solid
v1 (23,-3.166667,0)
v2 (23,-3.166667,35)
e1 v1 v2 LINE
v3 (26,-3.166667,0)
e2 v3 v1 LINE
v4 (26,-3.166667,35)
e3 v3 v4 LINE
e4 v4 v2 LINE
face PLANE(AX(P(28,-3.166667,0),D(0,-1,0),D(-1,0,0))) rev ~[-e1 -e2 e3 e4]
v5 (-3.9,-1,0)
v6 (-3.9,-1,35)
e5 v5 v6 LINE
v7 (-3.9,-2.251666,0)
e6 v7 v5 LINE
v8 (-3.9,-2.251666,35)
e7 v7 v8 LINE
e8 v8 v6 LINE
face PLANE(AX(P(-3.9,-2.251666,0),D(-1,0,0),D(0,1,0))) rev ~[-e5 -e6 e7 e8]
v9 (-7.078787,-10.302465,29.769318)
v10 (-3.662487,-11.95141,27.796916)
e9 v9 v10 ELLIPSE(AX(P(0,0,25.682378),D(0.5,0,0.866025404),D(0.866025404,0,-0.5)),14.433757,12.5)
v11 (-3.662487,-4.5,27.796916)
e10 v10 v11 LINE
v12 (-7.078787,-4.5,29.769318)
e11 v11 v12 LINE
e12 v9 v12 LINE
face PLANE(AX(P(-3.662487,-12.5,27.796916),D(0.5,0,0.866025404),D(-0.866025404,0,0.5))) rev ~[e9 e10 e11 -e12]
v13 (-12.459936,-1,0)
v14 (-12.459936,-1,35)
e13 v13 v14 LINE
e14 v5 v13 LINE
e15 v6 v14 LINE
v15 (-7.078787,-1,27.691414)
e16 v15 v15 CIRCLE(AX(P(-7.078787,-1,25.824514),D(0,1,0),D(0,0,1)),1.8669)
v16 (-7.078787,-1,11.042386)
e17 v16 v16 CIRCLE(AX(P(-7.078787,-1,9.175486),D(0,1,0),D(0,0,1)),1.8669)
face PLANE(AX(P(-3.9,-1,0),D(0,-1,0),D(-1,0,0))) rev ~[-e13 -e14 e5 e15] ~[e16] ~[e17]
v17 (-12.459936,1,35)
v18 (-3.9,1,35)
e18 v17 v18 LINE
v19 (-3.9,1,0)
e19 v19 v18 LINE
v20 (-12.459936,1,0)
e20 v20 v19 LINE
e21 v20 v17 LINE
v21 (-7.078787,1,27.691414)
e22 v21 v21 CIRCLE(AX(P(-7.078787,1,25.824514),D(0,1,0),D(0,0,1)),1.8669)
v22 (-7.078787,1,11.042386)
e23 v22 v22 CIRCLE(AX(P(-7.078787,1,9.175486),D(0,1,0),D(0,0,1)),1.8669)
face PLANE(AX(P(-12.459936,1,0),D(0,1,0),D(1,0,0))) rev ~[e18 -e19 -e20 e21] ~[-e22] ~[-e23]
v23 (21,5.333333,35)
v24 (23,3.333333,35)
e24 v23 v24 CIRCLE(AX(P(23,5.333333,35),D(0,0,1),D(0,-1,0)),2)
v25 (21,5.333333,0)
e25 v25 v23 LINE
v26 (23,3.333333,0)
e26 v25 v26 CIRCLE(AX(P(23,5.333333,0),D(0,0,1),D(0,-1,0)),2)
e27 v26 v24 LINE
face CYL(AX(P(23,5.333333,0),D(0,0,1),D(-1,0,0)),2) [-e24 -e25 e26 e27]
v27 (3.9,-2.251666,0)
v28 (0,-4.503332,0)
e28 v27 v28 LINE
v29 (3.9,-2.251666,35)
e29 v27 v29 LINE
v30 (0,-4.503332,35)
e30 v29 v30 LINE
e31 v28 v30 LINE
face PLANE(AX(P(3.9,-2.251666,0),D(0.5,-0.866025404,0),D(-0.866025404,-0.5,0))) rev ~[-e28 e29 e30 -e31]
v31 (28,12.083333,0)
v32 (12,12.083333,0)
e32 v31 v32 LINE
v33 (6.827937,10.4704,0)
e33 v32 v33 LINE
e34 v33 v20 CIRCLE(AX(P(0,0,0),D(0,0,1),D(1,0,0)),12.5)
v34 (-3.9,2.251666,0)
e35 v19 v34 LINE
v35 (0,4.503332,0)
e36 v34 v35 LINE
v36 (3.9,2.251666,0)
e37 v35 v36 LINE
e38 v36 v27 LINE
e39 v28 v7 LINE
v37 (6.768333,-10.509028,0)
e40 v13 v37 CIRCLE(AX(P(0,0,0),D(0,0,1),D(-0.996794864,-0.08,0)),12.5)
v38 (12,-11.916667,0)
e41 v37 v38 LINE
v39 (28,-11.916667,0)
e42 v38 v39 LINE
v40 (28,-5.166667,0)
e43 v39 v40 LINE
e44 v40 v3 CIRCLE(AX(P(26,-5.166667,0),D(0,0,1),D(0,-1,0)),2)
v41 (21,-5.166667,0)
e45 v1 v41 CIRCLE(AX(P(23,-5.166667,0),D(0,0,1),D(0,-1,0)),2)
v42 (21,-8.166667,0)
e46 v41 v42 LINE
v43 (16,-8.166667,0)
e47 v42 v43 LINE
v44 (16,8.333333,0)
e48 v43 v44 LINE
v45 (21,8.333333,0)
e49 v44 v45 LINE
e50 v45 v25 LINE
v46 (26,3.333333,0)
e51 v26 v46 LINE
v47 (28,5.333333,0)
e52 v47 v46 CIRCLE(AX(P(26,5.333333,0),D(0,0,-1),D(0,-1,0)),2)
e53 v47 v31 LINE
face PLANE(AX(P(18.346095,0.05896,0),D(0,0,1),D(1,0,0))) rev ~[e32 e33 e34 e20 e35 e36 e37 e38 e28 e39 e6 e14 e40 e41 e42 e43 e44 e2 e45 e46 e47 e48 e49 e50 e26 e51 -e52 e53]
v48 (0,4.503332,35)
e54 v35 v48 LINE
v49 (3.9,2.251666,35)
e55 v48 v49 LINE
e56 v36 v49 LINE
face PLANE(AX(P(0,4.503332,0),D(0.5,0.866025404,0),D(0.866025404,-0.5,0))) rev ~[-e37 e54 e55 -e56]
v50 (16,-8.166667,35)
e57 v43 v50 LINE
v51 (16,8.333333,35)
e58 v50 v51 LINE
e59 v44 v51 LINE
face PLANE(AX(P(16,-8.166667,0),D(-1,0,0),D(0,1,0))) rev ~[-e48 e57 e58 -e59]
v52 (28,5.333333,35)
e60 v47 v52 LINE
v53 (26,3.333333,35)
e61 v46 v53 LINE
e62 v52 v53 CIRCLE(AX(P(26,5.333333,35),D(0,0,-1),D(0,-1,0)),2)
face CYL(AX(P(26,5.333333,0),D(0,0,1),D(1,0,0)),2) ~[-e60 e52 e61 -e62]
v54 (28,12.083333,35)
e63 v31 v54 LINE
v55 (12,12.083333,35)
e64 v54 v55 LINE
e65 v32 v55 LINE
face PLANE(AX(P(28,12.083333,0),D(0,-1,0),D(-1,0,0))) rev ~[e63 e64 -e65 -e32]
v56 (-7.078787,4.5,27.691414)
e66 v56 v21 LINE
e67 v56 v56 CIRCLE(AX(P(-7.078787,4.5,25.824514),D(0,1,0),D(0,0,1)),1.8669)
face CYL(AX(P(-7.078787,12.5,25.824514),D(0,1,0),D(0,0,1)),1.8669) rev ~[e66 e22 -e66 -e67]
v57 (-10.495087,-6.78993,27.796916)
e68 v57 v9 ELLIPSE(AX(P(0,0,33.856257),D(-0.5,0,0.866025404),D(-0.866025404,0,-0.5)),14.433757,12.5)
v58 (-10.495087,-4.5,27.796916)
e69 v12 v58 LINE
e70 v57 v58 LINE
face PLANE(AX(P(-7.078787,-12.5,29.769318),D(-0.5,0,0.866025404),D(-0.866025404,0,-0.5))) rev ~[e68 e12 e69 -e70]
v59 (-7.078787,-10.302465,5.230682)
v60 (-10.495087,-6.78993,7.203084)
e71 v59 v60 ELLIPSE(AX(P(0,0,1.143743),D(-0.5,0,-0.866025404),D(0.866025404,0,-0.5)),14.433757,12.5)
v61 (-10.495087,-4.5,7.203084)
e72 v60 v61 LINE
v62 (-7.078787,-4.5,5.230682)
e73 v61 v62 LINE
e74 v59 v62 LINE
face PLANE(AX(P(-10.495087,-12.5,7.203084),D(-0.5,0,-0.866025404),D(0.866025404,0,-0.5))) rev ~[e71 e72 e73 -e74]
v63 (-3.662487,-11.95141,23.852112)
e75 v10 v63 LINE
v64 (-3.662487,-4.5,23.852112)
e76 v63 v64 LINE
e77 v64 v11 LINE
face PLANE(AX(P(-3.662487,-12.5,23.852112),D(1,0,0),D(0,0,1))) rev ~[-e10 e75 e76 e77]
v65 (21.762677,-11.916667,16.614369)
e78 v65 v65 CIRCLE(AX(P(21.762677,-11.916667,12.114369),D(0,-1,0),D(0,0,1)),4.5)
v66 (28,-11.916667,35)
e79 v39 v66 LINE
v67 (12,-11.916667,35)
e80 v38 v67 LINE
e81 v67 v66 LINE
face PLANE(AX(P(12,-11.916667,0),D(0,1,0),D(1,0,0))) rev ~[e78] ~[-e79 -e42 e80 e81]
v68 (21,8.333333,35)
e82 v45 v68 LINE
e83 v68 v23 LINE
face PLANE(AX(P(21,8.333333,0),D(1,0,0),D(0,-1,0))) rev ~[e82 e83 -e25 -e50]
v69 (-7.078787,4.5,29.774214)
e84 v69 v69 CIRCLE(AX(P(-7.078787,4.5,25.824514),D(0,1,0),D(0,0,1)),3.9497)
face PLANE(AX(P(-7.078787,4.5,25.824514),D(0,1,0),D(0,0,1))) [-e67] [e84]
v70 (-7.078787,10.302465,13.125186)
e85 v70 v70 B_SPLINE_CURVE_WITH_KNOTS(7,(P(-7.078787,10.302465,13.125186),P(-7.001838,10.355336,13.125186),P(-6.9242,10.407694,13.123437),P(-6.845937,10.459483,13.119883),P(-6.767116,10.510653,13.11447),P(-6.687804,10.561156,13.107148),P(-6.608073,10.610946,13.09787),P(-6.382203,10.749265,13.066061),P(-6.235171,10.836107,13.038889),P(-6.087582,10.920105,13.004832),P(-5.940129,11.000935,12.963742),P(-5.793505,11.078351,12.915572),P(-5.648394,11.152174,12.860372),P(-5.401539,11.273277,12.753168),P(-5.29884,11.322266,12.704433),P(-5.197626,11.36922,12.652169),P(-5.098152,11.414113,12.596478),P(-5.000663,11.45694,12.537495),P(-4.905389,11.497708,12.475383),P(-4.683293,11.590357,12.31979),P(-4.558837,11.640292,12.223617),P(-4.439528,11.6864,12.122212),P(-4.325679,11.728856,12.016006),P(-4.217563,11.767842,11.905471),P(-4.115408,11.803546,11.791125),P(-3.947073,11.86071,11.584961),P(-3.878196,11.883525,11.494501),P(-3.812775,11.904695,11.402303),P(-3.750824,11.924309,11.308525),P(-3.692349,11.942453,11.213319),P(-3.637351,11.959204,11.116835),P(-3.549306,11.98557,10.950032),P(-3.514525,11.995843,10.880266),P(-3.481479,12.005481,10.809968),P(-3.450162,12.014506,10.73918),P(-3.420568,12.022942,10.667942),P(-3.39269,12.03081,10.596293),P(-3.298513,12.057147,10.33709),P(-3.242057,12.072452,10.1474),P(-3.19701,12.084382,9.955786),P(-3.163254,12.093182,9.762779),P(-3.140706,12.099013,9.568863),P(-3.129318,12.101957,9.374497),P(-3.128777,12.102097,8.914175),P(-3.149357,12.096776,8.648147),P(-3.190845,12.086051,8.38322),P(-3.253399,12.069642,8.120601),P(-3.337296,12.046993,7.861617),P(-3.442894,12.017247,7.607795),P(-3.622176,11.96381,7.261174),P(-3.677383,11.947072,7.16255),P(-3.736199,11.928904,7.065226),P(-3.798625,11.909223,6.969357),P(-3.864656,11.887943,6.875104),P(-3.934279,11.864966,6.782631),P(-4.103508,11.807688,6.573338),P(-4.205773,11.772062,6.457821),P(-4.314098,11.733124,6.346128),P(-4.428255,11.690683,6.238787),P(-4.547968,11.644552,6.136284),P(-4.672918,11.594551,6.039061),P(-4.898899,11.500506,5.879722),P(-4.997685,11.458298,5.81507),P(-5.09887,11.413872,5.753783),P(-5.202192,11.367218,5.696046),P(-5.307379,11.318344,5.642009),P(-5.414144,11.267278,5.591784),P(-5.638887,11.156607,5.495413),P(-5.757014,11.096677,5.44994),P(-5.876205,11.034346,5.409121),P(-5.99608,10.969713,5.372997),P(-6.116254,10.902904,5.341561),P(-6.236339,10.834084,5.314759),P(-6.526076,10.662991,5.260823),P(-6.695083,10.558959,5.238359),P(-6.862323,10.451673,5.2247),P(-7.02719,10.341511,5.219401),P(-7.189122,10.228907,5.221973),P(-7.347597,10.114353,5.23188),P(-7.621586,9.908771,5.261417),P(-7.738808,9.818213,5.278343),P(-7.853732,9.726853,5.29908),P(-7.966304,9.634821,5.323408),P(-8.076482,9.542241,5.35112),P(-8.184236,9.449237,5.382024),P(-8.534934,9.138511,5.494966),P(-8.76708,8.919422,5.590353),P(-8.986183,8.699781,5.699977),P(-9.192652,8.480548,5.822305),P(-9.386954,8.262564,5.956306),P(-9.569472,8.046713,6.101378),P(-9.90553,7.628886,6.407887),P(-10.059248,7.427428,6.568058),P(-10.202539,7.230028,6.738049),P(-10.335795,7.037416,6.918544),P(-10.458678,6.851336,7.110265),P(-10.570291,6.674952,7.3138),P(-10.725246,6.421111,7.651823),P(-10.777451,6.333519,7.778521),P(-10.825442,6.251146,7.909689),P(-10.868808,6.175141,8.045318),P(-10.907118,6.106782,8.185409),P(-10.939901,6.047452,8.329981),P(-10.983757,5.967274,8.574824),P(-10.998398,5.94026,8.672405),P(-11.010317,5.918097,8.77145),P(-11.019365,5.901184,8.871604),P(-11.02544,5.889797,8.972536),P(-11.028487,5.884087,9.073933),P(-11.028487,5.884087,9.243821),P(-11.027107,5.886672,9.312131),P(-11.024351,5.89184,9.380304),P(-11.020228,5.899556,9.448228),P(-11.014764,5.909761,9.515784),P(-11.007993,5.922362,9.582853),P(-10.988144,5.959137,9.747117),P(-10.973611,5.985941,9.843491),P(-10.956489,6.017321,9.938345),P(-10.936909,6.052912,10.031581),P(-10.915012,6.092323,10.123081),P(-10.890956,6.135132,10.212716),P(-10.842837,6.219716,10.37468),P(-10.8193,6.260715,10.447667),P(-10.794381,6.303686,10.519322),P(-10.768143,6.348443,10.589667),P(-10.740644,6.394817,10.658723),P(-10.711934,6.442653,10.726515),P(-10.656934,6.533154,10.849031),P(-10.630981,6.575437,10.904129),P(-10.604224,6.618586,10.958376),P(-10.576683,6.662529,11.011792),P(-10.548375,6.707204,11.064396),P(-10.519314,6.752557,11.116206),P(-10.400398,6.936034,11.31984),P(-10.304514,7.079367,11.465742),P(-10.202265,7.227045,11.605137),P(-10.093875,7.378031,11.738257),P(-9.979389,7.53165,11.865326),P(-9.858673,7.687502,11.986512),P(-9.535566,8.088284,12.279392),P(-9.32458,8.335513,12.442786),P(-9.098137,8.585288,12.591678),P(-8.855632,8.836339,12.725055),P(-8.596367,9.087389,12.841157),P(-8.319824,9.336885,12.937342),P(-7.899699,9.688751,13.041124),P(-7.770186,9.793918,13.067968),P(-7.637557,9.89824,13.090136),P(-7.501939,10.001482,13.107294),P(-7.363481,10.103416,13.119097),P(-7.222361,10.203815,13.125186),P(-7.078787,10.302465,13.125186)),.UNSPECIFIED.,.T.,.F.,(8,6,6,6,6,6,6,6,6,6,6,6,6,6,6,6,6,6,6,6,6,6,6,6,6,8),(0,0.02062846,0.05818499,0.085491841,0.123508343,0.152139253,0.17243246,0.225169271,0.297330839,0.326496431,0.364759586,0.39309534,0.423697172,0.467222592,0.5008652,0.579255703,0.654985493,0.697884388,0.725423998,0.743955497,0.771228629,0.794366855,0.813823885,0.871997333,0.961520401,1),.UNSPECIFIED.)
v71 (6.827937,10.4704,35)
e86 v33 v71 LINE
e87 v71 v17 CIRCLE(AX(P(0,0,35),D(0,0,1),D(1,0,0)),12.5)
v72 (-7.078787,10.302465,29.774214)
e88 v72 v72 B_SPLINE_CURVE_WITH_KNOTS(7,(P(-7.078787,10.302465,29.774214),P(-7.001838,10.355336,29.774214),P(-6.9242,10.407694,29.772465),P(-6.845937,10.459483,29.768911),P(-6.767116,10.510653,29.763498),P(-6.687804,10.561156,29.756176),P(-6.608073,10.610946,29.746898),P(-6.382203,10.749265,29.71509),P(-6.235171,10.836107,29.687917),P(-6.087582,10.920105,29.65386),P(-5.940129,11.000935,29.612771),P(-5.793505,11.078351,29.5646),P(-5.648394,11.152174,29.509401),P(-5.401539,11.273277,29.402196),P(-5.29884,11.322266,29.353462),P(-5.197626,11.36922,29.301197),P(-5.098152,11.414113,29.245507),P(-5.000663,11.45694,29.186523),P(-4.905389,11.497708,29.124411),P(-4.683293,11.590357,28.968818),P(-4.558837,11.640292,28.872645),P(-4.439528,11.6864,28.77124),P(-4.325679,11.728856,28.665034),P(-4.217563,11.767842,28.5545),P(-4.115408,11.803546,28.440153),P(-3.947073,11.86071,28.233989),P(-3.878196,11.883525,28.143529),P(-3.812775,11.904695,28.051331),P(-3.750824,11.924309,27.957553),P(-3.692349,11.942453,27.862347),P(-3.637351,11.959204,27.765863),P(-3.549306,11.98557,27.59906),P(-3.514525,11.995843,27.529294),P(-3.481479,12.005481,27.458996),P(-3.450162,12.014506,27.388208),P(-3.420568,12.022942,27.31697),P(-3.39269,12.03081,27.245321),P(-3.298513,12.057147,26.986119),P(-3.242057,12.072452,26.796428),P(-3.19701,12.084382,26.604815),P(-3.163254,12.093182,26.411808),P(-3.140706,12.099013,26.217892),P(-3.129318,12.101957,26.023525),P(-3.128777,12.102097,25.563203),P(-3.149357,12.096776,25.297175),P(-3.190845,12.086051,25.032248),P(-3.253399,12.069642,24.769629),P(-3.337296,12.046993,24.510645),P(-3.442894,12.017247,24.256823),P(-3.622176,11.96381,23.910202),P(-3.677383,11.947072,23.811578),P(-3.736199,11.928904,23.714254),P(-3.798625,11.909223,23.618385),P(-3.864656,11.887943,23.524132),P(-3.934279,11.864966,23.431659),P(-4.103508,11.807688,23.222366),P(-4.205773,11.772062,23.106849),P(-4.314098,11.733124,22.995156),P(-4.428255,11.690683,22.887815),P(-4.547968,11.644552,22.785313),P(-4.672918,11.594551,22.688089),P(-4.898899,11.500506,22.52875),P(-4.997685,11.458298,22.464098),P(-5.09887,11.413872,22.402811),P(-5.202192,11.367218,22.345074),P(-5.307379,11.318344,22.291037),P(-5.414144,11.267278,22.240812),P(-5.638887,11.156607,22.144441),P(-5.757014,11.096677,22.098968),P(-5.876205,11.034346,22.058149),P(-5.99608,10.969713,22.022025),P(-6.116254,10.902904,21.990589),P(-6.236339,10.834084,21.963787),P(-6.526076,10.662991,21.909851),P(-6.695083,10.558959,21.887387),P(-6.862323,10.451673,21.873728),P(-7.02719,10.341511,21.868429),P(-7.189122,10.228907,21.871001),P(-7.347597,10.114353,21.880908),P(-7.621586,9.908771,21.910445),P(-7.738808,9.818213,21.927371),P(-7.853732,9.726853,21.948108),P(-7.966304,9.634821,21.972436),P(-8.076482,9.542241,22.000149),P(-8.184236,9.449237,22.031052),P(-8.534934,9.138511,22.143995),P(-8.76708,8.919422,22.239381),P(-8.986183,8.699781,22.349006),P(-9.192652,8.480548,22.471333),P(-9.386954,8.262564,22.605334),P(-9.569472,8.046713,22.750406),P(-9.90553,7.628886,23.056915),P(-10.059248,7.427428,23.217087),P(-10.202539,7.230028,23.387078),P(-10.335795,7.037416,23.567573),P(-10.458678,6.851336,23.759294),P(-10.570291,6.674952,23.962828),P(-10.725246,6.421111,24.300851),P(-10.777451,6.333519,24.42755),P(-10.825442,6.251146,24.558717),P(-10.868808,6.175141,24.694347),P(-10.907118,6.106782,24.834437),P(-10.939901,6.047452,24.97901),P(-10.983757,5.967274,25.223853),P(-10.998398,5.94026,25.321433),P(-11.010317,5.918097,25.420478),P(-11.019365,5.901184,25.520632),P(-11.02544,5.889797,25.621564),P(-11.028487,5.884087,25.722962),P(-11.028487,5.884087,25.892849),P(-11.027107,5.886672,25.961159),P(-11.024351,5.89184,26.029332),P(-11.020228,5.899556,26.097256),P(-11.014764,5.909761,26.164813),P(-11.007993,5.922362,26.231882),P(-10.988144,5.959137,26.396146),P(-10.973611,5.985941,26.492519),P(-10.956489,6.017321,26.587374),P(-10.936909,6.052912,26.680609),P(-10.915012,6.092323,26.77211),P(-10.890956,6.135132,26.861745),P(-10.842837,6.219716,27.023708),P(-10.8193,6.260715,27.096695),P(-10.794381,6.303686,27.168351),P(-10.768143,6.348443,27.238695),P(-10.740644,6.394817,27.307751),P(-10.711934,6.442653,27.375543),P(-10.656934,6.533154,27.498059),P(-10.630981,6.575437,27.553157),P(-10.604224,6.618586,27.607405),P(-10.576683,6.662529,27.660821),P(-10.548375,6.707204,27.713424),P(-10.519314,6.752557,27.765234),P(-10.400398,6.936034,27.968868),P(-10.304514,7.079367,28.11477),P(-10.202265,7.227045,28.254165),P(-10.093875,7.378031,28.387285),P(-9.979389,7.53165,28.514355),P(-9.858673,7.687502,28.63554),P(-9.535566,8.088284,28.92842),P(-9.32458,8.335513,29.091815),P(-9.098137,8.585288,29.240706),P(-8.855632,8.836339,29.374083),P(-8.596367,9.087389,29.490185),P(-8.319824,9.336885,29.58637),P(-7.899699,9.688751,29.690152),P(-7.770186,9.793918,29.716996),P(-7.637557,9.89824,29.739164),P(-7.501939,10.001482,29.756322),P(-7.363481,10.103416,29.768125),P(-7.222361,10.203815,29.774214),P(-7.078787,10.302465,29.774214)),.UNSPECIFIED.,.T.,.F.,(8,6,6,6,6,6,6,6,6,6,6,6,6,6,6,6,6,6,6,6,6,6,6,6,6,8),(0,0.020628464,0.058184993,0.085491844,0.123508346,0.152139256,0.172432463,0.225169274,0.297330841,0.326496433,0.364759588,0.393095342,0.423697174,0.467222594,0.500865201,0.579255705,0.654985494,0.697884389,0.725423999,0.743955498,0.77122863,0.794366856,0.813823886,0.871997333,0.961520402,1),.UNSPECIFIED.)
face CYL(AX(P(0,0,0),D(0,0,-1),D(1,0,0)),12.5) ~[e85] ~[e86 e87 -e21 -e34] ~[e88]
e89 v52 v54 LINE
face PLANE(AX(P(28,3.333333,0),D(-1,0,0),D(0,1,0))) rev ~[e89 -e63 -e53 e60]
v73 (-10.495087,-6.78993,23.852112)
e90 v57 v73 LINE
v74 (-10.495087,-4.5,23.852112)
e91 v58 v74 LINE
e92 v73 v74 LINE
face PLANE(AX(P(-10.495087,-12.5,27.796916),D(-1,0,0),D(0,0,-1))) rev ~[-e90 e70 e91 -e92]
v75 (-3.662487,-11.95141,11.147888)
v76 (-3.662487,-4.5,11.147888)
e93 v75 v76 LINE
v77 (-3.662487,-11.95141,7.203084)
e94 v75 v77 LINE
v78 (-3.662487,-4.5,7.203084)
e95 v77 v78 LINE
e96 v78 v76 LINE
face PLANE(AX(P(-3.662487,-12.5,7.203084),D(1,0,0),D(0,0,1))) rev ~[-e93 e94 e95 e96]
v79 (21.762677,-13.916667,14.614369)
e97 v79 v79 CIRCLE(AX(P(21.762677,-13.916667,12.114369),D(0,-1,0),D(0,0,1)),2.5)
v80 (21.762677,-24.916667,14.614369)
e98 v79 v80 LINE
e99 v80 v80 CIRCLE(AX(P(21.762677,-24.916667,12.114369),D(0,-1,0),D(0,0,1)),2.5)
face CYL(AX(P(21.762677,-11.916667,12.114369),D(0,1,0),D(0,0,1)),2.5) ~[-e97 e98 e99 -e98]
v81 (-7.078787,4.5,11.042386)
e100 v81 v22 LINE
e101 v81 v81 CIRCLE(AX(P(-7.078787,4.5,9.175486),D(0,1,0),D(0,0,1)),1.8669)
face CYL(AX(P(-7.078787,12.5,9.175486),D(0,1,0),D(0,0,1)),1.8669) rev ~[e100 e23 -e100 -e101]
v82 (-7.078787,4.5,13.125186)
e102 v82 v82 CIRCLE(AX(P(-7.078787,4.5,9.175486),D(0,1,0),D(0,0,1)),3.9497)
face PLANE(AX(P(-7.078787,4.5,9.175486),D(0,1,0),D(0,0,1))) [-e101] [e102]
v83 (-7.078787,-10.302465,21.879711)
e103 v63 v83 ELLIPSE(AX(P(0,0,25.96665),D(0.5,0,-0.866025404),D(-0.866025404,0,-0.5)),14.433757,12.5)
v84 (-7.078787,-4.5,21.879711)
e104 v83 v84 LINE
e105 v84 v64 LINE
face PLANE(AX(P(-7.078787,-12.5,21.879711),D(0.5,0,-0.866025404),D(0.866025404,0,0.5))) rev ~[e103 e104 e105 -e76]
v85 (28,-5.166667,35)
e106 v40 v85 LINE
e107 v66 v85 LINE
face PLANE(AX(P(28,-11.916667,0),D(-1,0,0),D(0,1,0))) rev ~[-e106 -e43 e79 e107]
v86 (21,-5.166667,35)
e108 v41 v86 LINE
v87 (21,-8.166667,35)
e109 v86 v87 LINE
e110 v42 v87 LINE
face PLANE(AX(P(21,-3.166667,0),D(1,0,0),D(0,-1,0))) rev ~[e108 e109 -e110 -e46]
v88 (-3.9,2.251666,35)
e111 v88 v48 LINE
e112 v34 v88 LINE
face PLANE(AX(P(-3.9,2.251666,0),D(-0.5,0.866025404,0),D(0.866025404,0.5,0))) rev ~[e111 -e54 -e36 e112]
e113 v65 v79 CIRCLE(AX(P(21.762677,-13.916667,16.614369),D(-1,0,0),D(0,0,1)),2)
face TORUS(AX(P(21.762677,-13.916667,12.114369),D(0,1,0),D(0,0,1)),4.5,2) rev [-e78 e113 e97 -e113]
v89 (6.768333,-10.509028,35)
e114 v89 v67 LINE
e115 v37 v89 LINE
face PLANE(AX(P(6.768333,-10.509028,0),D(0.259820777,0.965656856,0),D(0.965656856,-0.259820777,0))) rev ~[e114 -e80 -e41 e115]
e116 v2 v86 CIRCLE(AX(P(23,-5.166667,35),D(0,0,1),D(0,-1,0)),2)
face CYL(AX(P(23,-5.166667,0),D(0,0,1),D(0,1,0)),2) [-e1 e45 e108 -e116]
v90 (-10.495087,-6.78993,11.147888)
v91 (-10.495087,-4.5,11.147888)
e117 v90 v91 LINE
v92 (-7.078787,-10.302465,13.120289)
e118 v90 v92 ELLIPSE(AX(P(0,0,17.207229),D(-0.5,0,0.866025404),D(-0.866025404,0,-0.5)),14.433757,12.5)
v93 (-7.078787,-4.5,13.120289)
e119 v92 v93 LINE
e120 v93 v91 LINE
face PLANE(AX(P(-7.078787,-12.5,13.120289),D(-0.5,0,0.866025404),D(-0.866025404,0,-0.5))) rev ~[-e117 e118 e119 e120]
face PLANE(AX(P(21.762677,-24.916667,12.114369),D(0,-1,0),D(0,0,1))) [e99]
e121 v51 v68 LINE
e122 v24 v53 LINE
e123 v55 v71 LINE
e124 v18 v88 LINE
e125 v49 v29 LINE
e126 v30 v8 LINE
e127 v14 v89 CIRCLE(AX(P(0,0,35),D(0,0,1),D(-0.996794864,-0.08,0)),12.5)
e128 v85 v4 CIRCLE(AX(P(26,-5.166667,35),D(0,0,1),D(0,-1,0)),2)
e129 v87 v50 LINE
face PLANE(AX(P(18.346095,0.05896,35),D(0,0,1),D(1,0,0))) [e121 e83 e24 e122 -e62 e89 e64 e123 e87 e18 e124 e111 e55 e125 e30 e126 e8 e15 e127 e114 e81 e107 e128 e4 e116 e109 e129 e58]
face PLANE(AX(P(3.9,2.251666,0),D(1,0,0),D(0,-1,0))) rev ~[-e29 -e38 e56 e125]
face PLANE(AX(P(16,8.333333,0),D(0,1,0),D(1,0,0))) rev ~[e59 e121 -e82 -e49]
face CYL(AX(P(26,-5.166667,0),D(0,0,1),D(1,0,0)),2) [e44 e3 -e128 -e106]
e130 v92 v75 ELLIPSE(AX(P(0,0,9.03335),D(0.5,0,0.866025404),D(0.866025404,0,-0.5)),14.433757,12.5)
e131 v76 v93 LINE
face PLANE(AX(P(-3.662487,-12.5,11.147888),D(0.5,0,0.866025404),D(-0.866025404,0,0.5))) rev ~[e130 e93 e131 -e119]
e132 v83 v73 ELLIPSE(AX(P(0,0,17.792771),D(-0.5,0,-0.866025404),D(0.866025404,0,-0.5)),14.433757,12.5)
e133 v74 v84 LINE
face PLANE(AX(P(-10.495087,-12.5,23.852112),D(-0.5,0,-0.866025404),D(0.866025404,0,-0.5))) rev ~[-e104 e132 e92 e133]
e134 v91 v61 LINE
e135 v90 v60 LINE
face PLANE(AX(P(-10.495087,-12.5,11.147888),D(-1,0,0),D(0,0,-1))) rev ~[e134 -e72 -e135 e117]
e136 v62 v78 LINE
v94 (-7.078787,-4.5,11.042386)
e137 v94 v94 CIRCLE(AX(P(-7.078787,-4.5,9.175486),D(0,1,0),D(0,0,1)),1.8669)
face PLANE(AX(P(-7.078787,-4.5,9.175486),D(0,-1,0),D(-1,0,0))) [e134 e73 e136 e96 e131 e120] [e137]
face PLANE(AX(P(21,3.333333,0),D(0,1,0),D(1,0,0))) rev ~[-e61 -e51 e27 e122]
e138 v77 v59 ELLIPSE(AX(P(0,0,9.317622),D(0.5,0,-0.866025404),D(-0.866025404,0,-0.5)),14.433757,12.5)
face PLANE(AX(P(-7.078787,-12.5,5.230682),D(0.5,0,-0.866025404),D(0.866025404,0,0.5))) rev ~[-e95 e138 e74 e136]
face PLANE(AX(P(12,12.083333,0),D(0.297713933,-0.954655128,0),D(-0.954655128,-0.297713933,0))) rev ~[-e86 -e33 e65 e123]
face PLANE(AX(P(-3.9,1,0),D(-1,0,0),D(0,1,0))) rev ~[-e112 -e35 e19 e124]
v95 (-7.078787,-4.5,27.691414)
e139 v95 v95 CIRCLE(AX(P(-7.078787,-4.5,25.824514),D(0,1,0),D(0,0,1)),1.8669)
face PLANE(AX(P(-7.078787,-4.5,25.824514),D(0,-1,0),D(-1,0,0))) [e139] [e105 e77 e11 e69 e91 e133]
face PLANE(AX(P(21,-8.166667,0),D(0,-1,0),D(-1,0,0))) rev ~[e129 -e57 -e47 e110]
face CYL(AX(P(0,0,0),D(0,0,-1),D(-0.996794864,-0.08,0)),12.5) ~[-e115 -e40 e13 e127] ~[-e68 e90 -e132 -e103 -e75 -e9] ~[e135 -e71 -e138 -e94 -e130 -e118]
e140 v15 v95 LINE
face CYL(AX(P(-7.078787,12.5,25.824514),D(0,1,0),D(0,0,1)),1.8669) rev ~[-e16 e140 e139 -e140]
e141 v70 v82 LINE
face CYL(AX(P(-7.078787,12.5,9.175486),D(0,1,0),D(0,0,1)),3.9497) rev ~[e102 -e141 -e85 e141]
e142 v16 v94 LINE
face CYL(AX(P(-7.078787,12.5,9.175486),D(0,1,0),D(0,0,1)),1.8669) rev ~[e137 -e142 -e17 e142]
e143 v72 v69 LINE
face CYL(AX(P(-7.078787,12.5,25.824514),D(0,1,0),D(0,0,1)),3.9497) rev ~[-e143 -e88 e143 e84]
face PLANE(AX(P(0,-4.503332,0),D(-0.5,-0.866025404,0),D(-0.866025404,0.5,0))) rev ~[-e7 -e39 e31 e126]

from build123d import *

# Parameters (mm, degrees)
BOSS_EXTRUDE1_DEPTH = 35
SKETCH2_R           = 1.8669
CUT_EXTRUDE1_DEPTH  = 45.791182168
SKETCH3_R           = 3.9497
CUT_EXTRUDE2_DEPTH  = 8
CUT_EXTRUDE3_DEPTH  = 8
BOSS_EXTRUDE2_DEPTH = 35
FILLET1_R           = 2
SKETCH6_R           = 2.5
BOSS_EXTRUDE3_DEPTH = 13
FILLET2_R           = 2


with BuildPart() as part:
    # Sketch1 → Boss-Extrude1 (new body)
    with BuildSketch(Plane.XY):
        with BuildLine():
            ThreePointArc((12.5, 0), (0.500401124, 12.489979933), (-12.459935794, 1))
            Line((-12.459935794, 1), (-3.9, 1))
            Line((-3.9, 1), (-3.9, 2.25166605))
            Line((-3.9, 2.25166605), (0, 4.5033321))
            Line((0, 4.5033321), (3.9, 2.25166605))
            Line((3.9, 2.25166605), (3.9, -2.25166605))
            Line((3.9, -2.25166605), (0, -4.5033321))
            Line((0, -4.5033321), (-3.9, -2.25166605))
            Line((-3.9, -2.25166605), (-3.9, -1))
            Line((-3.9, -1), (-12.459935794, -1))
            ThreePointArc((-12.459935794, -1), (0.500401124, -12.489979933), (12.5, 0))
        make_face()
    extrude(amount=BOSS_EXTRUDE1_DEPTH)

    # Sketch2 → Cut-Extrude1 (cut, through all)
    with BuildSketch(Plane(origin=(0, 12.5, 0), x_dir=(1, 0, 0), z_dir=(0, 1, 0))):
        with Locations(Location((-7.078786681, -9.175485886, 0), (0, 0, 270))):
            Circle(SKETCH2_R)
        with Locations(Location((-7.078786681, -25.824514114, 0), (0, 0, 270))):
            Circle(SKETCH2_R)
    extrude(amount=-CUT_EXTRUDE1_DEPTH, mode=Mode.SUBTRACT)

    # Sketch3 → Cut-Extrude2 (cut)
    with BuildSketch(Plane(origin=(0, 12.5, 0), x_dir=(1, 0, 0), z_dir=(0, 1, 0))):
        with Locations(Location((-7.078786681, -9.175485886, 0), (0, 0, 270))):
            Circle(SKETCH3_R)
        with Locations(Location((-7.078786681, -25.824514114, 0), (0, 0, 270))):
            Circle(SKETCH3_R)
    extrude(amount=-CUT_EXTRUDE2_DEPTH, mode=Mode.SUBTRACT)

    # Sketch4 → Cut-Extrude3 (cut)
    with BuildSketch(Plane(origin=(0, -12.5, 0), x_dir=(-1, 0, 0), z_dir=(0, -1, 0))):
        Polygon((7.078786681, -5.230682437), (3.662486681, -7.203084162), (3.662486681, -11.147887611), (7.078786681, -13.120289335), (10.495086681, -11.147887611), (10.495086681, -7.203084162), align=None)
        Polygon((7.078786681, -21.879710665), (3.662486681, -23.852112389), (3.662486681, -27.796915838), (7.078786681, -29.769317563), (10.495086681, -27.796915838), (10.495086681, -23.852112389), align=None)
    extrude(amount=-CUT_EXTRUDE3_DEPTH, mode=Mode.SUBTRACT)

    # Sketch5 → Boss-Extrude2 (add, through all)
    with BuildSketch(Plane(origin=(0, 0, 0), x_dir=(-1, 0, 0), z_dir=(0, 0, -1))):
        with BuildLine():
            Line((-12, 12.083333333), (-6.827937157, 10.470399905))
            ThreePointArc((-6.827937157, 10.470399905), (-12.499949552, -0.035513444), (-6.768332777, -10.509028091))
            Line((-6.768332777, -10.509028091), (-12, -11.916666667))
            Line((-12, -11.916666667), (-28, -11.916666667))
            Line((-28, -11.916666667), (-28, -3.166666667))
            Line((-28, -3.166666667), (-21, -3.166666667))
            Line((-21, -3.166666667), (-21, -8.166666667))
            Line((-21, -8.166666667), (-16, -8.166666667))
            Line((-16, -8.166666667), (-16, 8.333333333))
            Line((-16, 8.333333333), (-21, 8.333333333))
            Line((-21, 8.333333333), (-21, 3.333333333))
            Line((-21, 3.333333333), (-28, 3.333333333))
            Line((-28, 3.333333333), (-28, 12.083333333))
            Line((-28, 12.083333333), (-12, 12.083333333))
        make_face()
    extrude(amount=-BOSS_EXTRUDE2_DEPTH)

    # Fillet1
    fillet1_edges = [part.edges().sort_by_distance(p)[0] for p in [
        (28, -3.166666667, 17.5),
        (21, -3.166666667, 17.5),
        (21, 3.333333333, 17.5),
        (28, 3.333333333, 17.5),
    ]]
    fillet(fillet1_edges, radius=FILLET1_R)

    # Sketch6 → Boss-Extrude3 (add)
    with BuildSketch(Plane.XZ.offset(11.916666667)):
        with Locations(Location((21.762676708, 12.114369006, 0), (0, 0, 90))):
            Circle(SKETCH6_R)
    extrude(amount=BOSS_EXTRUDE3_DEPTH)

    # Fillet2
    fillet2_edges = [part.edges().sort_by_distance(p)[0] for p in [
        (21.762676708, -11.916666667, 9.614369006),
    ]]
    fillet(fillet2_edges, radius=FILLET2_R)


solid = part.part
